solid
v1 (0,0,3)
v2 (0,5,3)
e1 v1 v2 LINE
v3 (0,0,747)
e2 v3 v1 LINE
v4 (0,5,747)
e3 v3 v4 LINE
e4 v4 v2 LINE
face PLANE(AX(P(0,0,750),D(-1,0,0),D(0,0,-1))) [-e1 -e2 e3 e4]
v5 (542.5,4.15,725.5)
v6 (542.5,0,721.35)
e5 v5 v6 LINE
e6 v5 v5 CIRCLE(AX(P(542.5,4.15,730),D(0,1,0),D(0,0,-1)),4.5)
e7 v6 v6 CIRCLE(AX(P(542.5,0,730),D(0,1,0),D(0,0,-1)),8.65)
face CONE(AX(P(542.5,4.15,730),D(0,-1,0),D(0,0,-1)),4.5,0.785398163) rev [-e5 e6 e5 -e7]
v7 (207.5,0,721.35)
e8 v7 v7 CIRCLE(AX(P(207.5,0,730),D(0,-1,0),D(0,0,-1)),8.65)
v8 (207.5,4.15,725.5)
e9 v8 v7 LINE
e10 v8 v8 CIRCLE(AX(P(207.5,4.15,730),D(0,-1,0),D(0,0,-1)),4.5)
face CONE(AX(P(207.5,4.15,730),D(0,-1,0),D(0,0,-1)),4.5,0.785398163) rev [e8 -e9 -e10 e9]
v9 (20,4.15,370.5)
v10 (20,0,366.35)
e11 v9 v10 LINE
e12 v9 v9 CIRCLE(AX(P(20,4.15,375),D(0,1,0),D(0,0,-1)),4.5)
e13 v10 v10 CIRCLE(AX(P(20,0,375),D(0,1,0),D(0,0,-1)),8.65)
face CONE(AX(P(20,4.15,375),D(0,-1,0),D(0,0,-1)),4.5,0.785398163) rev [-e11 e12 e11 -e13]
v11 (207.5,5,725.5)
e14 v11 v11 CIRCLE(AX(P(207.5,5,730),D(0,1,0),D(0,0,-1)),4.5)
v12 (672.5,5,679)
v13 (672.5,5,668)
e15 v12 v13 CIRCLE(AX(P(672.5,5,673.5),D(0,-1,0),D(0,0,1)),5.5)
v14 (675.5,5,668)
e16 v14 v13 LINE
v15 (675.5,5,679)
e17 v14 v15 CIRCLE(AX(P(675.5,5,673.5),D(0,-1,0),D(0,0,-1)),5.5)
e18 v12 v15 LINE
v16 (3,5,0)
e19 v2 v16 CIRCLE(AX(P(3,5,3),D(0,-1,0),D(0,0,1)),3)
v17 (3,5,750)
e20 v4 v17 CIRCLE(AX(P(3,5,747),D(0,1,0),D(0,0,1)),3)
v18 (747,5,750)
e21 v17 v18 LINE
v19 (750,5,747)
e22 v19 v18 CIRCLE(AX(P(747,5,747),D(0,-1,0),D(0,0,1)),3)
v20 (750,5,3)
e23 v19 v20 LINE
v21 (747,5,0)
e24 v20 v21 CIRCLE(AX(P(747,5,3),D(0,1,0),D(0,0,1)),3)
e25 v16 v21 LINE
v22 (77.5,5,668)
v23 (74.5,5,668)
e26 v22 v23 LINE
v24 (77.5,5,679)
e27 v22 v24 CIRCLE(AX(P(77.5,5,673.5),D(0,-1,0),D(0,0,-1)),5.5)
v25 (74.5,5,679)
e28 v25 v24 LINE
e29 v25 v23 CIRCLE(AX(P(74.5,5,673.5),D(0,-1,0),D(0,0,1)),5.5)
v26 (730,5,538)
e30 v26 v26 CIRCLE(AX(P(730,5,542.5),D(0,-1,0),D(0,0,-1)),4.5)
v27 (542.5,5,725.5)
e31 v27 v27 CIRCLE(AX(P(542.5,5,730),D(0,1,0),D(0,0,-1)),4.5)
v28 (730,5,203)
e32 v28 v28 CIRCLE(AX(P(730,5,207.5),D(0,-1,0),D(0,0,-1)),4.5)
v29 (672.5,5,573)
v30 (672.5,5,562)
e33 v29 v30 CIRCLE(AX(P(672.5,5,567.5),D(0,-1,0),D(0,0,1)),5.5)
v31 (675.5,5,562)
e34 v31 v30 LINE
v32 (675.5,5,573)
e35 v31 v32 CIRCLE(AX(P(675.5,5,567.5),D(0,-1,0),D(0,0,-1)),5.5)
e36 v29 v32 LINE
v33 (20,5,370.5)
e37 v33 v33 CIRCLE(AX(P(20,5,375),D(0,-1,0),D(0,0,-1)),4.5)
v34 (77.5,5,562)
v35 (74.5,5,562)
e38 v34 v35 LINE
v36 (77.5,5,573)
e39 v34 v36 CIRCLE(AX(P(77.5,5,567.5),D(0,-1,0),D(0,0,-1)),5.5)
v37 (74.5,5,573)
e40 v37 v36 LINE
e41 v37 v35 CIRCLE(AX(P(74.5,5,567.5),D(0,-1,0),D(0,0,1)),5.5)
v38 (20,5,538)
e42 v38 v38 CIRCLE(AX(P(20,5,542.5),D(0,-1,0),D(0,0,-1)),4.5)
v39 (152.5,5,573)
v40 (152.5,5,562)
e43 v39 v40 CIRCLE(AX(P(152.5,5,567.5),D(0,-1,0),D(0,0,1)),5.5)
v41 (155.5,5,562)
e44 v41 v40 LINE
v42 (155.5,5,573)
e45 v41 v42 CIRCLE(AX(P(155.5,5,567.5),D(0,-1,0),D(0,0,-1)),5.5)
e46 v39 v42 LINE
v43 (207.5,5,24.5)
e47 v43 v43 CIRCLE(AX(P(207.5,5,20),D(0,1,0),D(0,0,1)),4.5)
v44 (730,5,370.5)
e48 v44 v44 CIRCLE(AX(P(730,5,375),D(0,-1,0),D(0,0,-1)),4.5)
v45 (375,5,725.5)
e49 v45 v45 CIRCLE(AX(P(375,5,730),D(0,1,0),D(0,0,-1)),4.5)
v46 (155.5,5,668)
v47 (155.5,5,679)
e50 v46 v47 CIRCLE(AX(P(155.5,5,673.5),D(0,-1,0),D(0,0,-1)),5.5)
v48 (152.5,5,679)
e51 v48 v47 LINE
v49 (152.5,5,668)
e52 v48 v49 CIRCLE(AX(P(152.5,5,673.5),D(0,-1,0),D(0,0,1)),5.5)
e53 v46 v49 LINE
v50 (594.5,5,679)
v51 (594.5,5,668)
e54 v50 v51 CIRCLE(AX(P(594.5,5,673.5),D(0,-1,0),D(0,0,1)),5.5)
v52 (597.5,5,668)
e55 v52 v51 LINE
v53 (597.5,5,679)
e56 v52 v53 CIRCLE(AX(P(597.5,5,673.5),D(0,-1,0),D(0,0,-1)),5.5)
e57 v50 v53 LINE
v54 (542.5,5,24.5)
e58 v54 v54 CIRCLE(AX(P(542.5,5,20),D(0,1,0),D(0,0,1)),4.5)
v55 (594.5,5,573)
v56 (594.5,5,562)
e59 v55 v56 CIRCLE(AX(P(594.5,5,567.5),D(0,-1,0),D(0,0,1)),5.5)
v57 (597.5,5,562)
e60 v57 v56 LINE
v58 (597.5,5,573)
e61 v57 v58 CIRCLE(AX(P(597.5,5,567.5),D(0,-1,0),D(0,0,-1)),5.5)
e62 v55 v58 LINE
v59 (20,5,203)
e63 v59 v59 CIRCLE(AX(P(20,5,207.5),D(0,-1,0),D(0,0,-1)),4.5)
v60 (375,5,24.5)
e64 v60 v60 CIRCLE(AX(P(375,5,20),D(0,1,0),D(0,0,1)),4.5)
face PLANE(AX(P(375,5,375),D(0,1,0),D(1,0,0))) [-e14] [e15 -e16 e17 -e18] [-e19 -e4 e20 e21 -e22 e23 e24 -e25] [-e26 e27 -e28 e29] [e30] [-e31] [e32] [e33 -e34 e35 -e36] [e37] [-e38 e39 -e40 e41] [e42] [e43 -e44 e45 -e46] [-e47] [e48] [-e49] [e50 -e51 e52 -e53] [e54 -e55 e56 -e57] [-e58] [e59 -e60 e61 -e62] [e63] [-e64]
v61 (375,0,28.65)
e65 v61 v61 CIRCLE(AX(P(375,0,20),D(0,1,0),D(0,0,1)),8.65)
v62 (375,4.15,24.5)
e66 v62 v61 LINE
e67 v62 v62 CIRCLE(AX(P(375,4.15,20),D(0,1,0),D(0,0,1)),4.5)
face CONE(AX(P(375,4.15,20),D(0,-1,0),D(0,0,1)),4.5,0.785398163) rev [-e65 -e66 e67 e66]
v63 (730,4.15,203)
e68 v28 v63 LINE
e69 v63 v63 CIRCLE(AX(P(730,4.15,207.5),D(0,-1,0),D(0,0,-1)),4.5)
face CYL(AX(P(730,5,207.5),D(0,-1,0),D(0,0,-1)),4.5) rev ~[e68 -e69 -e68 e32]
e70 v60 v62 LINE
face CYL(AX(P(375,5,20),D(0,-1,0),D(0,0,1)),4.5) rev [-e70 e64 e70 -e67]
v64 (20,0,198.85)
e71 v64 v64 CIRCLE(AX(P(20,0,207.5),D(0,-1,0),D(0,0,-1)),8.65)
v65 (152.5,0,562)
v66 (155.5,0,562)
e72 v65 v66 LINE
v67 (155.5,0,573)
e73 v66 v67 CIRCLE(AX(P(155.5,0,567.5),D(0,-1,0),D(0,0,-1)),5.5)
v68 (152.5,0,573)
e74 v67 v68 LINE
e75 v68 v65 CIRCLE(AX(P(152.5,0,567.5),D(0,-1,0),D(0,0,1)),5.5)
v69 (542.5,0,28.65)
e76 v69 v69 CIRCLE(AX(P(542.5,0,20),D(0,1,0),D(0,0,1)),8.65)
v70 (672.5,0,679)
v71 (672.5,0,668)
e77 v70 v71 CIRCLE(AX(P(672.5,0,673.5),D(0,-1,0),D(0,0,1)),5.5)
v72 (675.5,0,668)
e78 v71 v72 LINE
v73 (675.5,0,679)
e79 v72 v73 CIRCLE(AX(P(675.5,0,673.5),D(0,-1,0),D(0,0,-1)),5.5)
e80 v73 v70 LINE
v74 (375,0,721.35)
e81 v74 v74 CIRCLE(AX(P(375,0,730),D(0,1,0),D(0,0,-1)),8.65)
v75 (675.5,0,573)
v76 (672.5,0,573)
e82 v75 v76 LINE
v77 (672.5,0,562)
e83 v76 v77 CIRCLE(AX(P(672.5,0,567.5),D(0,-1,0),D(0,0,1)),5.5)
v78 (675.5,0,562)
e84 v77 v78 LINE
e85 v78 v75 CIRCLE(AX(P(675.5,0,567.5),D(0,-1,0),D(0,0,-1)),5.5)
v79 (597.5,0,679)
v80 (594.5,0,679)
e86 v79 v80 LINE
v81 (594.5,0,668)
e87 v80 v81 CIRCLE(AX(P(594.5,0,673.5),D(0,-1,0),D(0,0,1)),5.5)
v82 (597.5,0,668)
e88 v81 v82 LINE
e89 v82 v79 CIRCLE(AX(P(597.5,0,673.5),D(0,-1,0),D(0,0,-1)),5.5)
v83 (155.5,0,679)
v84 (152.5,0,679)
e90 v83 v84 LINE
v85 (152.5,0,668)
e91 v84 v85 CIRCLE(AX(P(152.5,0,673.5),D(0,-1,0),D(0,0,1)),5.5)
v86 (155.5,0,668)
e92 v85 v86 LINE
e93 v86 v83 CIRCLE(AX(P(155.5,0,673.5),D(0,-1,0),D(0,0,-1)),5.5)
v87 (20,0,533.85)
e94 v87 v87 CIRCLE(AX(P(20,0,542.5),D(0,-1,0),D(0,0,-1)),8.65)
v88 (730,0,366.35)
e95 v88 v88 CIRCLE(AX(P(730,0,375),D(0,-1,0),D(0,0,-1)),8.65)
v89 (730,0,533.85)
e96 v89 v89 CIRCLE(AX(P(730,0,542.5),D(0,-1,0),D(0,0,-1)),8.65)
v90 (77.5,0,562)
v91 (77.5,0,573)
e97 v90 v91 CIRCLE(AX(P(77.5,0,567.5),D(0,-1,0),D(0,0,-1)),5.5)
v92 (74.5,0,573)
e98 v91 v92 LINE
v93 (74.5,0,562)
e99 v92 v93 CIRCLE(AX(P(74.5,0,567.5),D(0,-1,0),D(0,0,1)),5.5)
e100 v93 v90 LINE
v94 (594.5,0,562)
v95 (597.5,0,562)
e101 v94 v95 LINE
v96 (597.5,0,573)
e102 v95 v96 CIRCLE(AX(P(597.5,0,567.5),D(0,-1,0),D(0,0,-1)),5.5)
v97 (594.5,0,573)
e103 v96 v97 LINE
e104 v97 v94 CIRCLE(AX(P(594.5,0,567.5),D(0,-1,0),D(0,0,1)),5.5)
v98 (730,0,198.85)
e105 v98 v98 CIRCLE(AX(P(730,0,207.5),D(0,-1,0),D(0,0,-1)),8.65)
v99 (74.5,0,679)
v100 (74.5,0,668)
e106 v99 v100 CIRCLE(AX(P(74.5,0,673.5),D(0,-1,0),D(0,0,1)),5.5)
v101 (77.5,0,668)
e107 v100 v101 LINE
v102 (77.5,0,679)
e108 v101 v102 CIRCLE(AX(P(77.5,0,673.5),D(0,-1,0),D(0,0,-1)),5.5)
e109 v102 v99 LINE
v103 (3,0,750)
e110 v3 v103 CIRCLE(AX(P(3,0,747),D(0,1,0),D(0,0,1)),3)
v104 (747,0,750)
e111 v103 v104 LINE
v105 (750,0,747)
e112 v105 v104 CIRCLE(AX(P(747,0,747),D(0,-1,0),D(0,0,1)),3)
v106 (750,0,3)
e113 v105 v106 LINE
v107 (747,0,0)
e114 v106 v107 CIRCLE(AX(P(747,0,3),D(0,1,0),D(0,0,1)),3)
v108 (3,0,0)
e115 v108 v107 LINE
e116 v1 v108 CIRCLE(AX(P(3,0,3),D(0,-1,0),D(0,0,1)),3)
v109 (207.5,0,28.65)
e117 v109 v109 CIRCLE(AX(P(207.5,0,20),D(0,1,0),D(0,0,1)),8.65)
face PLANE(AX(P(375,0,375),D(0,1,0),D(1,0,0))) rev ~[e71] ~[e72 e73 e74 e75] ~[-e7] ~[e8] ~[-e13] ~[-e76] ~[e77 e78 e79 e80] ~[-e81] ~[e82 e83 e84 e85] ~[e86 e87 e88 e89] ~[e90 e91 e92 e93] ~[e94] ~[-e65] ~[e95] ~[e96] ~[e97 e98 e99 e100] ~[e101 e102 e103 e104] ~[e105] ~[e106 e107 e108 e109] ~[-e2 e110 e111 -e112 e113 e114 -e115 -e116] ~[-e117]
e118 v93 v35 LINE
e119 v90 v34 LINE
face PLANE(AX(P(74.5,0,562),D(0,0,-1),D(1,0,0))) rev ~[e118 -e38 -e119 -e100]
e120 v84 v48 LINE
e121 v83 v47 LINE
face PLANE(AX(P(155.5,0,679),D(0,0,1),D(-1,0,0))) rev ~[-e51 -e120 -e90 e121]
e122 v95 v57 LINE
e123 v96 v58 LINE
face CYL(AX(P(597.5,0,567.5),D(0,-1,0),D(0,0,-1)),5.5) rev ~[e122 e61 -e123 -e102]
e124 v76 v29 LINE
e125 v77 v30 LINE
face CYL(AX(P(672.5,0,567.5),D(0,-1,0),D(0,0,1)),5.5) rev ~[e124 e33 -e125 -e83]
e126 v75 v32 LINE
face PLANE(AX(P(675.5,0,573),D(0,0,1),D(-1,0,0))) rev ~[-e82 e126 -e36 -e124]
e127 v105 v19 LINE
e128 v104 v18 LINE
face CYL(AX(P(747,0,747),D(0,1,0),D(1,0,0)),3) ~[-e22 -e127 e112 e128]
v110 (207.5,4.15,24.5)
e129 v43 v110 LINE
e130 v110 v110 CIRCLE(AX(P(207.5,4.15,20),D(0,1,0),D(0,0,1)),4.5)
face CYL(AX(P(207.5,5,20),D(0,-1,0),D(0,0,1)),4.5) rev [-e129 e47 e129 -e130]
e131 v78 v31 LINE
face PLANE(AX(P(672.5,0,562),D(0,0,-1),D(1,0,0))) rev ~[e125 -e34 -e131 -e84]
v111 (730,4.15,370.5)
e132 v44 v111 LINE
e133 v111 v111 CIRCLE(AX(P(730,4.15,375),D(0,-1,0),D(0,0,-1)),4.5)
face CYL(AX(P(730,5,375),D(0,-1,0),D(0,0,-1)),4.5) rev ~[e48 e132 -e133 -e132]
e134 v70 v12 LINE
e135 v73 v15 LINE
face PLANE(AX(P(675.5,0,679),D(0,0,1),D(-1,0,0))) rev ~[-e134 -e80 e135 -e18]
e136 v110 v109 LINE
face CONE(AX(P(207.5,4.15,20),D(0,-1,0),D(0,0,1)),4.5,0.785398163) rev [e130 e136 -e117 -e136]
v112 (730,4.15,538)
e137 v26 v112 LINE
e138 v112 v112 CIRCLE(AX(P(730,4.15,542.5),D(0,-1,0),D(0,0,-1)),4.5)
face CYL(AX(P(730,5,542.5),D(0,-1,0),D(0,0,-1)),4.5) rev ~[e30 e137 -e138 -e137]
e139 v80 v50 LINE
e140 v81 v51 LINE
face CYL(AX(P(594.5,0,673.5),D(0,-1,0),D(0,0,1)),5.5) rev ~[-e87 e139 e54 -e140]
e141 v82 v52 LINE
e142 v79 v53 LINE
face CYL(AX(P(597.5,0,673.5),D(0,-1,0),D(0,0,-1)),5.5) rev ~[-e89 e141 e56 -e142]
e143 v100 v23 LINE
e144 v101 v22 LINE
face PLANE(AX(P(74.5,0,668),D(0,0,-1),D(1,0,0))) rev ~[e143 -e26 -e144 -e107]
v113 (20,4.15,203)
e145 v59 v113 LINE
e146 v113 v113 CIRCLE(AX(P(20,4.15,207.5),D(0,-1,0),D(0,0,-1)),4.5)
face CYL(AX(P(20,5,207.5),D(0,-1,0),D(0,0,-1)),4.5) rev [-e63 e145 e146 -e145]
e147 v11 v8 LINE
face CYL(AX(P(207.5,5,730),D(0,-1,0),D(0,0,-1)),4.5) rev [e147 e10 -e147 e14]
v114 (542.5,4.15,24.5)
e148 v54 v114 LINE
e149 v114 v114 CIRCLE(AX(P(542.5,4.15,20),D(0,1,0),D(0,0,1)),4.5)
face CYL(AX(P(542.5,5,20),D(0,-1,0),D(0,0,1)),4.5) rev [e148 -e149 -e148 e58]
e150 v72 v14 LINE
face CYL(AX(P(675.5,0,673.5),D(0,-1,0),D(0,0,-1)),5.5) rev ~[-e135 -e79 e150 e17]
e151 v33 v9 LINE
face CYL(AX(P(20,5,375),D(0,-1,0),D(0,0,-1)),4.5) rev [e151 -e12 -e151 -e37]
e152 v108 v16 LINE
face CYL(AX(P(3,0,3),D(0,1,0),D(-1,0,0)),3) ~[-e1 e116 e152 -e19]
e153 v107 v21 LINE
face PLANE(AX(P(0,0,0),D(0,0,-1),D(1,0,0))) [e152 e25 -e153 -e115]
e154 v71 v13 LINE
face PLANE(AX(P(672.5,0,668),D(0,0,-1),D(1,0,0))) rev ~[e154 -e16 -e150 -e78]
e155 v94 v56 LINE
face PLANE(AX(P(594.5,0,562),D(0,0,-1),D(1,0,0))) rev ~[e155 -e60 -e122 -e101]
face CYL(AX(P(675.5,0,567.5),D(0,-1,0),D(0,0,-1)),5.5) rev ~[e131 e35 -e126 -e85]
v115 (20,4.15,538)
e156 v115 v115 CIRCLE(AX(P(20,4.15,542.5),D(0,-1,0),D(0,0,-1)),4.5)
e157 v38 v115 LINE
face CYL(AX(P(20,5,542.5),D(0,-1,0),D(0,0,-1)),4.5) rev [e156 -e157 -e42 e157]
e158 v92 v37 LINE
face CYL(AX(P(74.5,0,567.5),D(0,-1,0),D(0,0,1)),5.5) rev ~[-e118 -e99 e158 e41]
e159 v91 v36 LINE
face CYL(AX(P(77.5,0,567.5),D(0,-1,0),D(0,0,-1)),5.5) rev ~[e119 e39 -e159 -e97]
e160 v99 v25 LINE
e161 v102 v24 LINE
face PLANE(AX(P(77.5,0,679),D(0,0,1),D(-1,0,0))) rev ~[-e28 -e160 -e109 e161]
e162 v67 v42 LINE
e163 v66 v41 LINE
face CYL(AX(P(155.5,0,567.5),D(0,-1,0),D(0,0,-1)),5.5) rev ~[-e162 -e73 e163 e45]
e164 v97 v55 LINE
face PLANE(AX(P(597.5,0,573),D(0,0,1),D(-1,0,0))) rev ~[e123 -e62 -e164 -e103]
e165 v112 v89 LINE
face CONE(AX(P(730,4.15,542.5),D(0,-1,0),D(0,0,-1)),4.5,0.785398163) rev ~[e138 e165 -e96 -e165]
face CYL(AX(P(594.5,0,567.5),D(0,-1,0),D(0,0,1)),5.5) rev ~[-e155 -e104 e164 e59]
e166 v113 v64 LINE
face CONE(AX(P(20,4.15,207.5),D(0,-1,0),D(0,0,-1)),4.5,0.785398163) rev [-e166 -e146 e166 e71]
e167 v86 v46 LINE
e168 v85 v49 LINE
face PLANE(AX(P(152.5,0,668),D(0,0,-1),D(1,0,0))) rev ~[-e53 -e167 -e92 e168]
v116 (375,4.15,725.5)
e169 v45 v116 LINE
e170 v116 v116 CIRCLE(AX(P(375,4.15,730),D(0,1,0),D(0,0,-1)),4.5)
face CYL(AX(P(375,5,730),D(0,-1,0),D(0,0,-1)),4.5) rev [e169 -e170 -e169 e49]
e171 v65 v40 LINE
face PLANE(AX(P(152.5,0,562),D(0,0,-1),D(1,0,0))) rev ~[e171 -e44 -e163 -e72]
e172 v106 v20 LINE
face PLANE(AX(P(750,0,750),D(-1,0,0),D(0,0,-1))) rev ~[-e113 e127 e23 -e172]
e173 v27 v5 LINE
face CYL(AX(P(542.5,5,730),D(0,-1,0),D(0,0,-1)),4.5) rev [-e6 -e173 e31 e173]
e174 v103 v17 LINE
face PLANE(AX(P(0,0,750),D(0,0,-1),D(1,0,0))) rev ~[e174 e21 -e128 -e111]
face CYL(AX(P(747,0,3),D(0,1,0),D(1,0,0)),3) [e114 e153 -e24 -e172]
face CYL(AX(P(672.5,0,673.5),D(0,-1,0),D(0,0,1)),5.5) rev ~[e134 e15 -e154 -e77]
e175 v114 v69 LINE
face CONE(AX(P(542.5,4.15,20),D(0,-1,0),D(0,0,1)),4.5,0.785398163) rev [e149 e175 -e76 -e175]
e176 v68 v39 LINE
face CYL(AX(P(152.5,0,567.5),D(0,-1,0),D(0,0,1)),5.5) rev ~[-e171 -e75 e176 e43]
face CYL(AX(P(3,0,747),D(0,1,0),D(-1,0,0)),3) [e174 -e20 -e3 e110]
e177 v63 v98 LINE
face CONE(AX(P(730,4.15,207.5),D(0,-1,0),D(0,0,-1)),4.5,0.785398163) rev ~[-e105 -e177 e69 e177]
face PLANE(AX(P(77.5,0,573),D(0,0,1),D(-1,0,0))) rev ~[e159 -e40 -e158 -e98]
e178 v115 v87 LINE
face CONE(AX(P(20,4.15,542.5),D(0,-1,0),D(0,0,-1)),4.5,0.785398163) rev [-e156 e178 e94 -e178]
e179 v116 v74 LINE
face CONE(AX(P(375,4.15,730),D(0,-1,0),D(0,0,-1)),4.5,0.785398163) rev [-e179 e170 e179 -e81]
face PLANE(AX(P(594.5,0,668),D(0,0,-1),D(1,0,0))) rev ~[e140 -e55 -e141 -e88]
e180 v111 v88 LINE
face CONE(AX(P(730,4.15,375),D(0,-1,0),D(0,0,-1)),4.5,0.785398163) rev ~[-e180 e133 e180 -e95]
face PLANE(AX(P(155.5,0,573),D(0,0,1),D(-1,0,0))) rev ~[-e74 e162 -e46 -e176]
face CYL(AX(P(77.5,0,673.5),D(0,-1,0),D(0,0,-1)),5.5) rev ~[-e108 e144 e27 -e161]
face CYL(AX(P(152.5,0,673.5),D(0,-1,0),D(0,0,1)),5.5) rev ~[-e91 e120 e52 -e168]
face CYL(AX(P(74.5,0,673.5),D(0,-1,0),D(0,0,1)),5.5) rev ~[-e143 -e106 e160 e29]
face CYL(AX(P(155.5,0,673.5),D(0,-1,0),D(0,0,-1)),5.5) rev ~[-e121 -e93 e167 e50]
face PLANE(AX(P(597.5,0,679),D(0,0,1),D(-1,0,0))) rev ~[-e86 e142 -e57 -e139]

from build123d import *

# Parameters (mm, degrees)
SKETCH1_W                                      = 750
SKETCH1_H                                      = 750
BOSS_EXTRUDE1_DEPTH                            = 5
CSK_FOR_M8_FLAT_HEAD_MACHINE_SCREW1_AT_2_COUNT = 2
CSK_FOR_M8_FLAT_HEAD_MACHINE_SCREW1_AT_2_PITCH = 167.5
CSK_FOR_M8_FLAT_HEAD_MACHINE_SCREW1_AT_3_COUNT = 2
CSK_FOR_M8_FLAT_HEAD_MACHINE_SCREW1_AT_3_PITCH = 167.5
CSK_FOR_M8_FLAT_HEAD_MACHINE_SCREW1_AT_4_COUNT = 2
CSK_FOR_M8_FLAT_HEAD_MACHINE_SCREW1_AT_4_PITCH = 502.045814642
CSK_FOR_M8_FLAT_HEAD_MACHINE_SCREW1_AT_5_COUNT = 2
CSK_FOR_M8_FLAT_HEAD_MACHINE_SCREW1_AT_5_PITCH = 631.689203644
CSK_FOR_M8_FLAT_HEAD_MACHINE_SCREW1_AT_6_COUNT = 2
CSK_FOR_M8_FLAT_HEAD_MACHINE_SCREW1_AT_6_PITCH = 401.473847218
FILLET1_R                                      = 3
CUT_EXTRUDE1_DEPTH                             = 6
LPATTERN1_COUNT                                = 2
LPATTERN1_PITCH                                = 520


with BuildPart() as part:
    # Sketch1 → Boss-Extrude1 (new body)
    with BuildSketch(Plane(origin=(0, 0, 0), x_dir=(1, 0, 0), z_dir=(0, 1, 0))):
        with Locations((375, -375)):
            Rectangle(SKETCH1_W, SKETCH1_H)
    extrude(amount=BOSS_EXTRUDE1_DEPTH)

    # Sketch4 → CSK for M8 Flat Head Machine Screw1 (revolve, cut)
    with BuildSketch(Plane(origin=(20, 0, 375), x_dir=(0, 0, -1), z_dir=(1, 0, 0))):
        Polygon((0, 0), (0, 5), (4.5, 5), (4.5, 4.15), (8.65, 0), align=None)
    csk_for_m8_flat_head_machine_screw1 = revolve(axis=Axis((20, -6.35, 375), (0, 1, 0)), mode=Mode.SUBTRACT)

    # CSK for M8 Flat Head Machine Screw1 at 2: CSK for M8 Flat Head Machine Screw1 ×2
    with Locations(*[(0, 0, i * CSK_FOR_M8_FLAT_HEAD_MACHINE_SCREW1_AT_2_PITCH) for i in range(1, CSK_FOR_M8_FLAT_HEAD_MACHINE_SCREW1_AT_2_COUNT)]):
        add(csk_for_m8_flat_head_machine_screw1, mode=Mode.SUBTRACT)

    # CSK for M8 Flat Head Machine Screw1 at 3: CSK for M8 Flat Head Machine Screw1 ×2
    with Locations(*[(0, 0, -i * CSK_FOR_M8_FLAT_HEAD_MACHINE_SCREW1_AT_3_PITCH) for i in range(1, CSK_FOR_M8_FLAT_HEAD_MACHINE_SCREW1_AT_3_COUNT)]):
        add(csk_for_m8_flat_head_machine_screw1, mode=Mode.SUBTRACT)

    # CSK for M8 Flat Head Machine Screw1 at 4: CSK for M8 Flat Head Machine Screw1 ×2
    with Locations(*[Vector(0.707106781, 0, 0.707106781) * (i * CSK_FOR_M8_FLAT_HEAD_MACHINE_SCREW1_AT_4_PITCH) for i in range(1, CSK_FOR_M8_FLAT_HEAD_MACHINE_SCREW1_AT_4_COUNT)]):
        add(csk_for_m8_flat_head_machine_screw1, mode=Mode.SUBTRACT)

    # CSK for M8 Flat Head Machine Screw1 at 5: CSK for M8 Flat Head Machine Screw1 ×2
    with Locations(*[Vector(0.82714727, 0, 0.561985226) * (i * CSK_FOR_M8_FLAT_HEAD_MACHINE_SCREW1_AT_5_PITCH) for i in range(1, CSK_FOR_M8_FLAT_HEAD_MACHINE_SCREW1_AT_5_COUNT)]):
        add(csk_for_m8_flat_head_machine_screw1, mode=Mode.SUBTRACT)

    # CSK for M8 Flat Head Machine Screw1 at 6: CSK for M8 Flat Head Machine Screw1 ×2
    with Locations(*[Vector(0.467029176, 0, 0.884241906) * (i * CSK_FOR_M8_FLAT_HEAD_MACHINE_SCREW1_AT_6_PITCH) for i in range(1, CSK_FOR_M8_FLAT_HEAD_MACHINE_SCREW1_AT_6_COUNT)]):
        add(csk_for_m8_flat_head_machine_screw1, mode=Mode.SUBTRACT)

    # Mirror1: CSK for M8 Flat Head Machine Screw1 across plane
    add(csk_for_m8_flat_head_machine_screw1.mirror(Plane(origin=(375, 0, 0), x_dir=(0, 0, 1), z_dir=(1, 0, 0))), mode=Mode.SUBTRACT)

    # Mirror1 copy 1 sketch → Mirror1 copy 1 (revolve, cut)
    with BuildSketch(Plane(origin=(730, 0, 542.5), x_dir=(0, 0, -1), z_dir=(-1, 0, 0))):
        Polygon((0, 0), (0, -5), (4.5, -5), (4.5, -4.15), (8.65, 0), align=None)
    revolve(axis=Axis((730, -6.35, 542.5), (0, -1, 0)), mode=Mode.SUBTRACT)

    # Mirror1 copy 2 sketch → Mirror1 copy 2 (revolve, cut)
    with BuildSketch(Plane(origin=(730, 0, 207.5), x_dir=(0, 0, -1), z_dir=(-1, 0, 0))):
        Polygon((0, 0), (0, -5), (4.5, -5), (4.5, -4.15), (8.65, 0), align=None)
    revolve(axis=Axis((730, -6.35, 207.5), (0, -1, 0)), mode=Mode.SUBTRACT)

    # Mirror1 copy 3 sketch → Mirror1 copy 3 (revolve, cut)
    with BuildSketch(Plane(origin=(375, 0, 730), x_dir=(0, 0, -1), z_dir=(-1, 0, 0))):
        Polygon((0, 0), (0, -5), (4.5, -5), (4.5, -4.15), (8.65, 0), align=None)
    revolve(axis=Axis((375, -6.35, 730), (0, -1, 0)), mode=Mode.SUBTRACT)

    # Mirror1 copy 4 sketch → Mirror1 copy 4 (revolve, cut)
    with BuildSketch(Plane(origin=(207.5, 0, 730), x_dir=(0, 0, -1), z_dir=(-1, 0, 0))):
        Polygon((0, 0), (0, -5), (4.5, -5), (4.5, -4.15), (8.65, 0), align=None)
    revolve(axis=Axis((207.5, -6.35, 730), (0, -1, 0)), mode=Mode.SUBTRACT)

    # Mirror1 copy 5 sketch → Mirror1 copy 5 (revolve, cut)
    with BuildSketch(Plane(origin=(542.5, 0, 730), x_dir=(0, 0, -1), z_dir=(-1, 0, 0))):
        Polygon((0, 0), (0, -5), (4.5, -5), (4.5, -4.15), (8.65, 0), align=None)
    revolve(axis=Axis((542.5, -6.35, 730), (0, -1, 0)), mode=Mode.SUBTRACT)

    # Mirror2 copy 1 sketch → Mirror2 copy 1 (revolve, cut)
    with BuildSketch(Plane(origin=(730, 0, 375), x_dir=(0, 0, 1), z_dir=(-1, 0, 0))):
        Polygon((0, 0), (0, 5), (4.5, 5), (4.5, 4.15), (8.65, 0), align=None)
    revolve(axis=Axis((730, -6.35, 375), (0, 1, 0)), mode=Mode.SUBTRACT)

    # Mirror2 copy 2 sketch → Mirror2 copy 2 (revolve, cut)
    with BuildSketch(Plane(origin=(730, 0, 207.5), x_dir=(0, 0, 1), z_dir=(-1, 0, 0))):
        Polygon((0, 0), (0, 5), (4.5, 5), (4.5, 4.15), (8.65, 0), align=None)
    revolve(axis=Axis((730, -6.35, 207.5), (0, 1, 0)), mode=Mode.SUBTRACT)

    # Mirror2 copy 3 sketch → Mirror2 copy 3 (revolve, cut)
    with BuildSketch(Plane(origin=(730, 0, 542.5), x_dir=(0, 0, 1), z_dir=(-1, 0, 0))):
        Polygon((0, 0), (0, 5), (4.5, 5), (4.5, 4.15), (8.65, 0), align=None)
    revolve(axis=Axis((730, -6.35, 542.5), (0, 1, 0)), mode=Mode.SUBTRACT)

    # Mirror2 copy 4 sketch → Mirror2 copy 4 (revolve, cut)
    with BuildSketch(Plane(origin=(375, 0, 20), x_dir=(0, 0, 1), z_dir=(-1, 0, 0))):
        Polygon((0, 0), (0, 5), (4.5, 5), (4.5, 4.15), (8.65, 0), align=None)
    revolve(axis=Axis((375, -6.35, 20), (0, 1, 0)), mode=Mode.SUBTRACT)

    # Mirror2 copy 5 sketch → Mirror2 copy 5 (revolve, cut)
    with BuildSketch(Plane(origin=(207.5, 0, 20), x_dir=(0, 0, 1), z_dir=(-1, 0, 0))):
        Polygon((0, 0), (0, 5), (4.5, 5), (4.5, 4.15), (8.65, 0), align=None)
    revolve(axis=Axis((207.5, -6.35, 20), (0, 1, 0)), mode=Mode.SUBTRACT)

    # Mirror2 copy 6 sketch → Mirror2 copy 6 (revolve, cut)
    with BuildSketch(Plane(origin=(542.5, 0, 20), x_dir=(0, 0, 1), z_dir=(-1, 0, 0))):
        Polygon((0, 0), (0, 5), (4.5, 5), (4.5, 4.15), (8.65, 0), align=None)
    revolve(axis=Axis((542.5, -6.35, 20), (0, 1, 0)), mode=Mode.SUBTRACT)

    # Mirror2 copy 7 sketch → Mirror2 copy 7 (revolve, cut)
    with BuildSketch(Plane(origin=(20, 0, 375), x_dir=(0, 0, 1), z_dir=(1, 0, 0))):
        Polygon((0, 0), (0, -5), (4.5, -5), (4.5, -4.15), (8.65, 0), align=None)
    revolve(axis=Axis((20, -6.35, 375), (0, -1, 0)), mode=Mode.SUBTRACT)

    # Mirror2 copy 8 sketch → Mirror2 copy 8 (revolve, cut)
    with BuildSketch(Plane(origin=(20, 0, 207.5), x_dir=(0, 0, 1), z_dir=(1, 0, 0))):
        Polygon((0, 0), (0, -5), (4.5, -5), (4.5, -4.15), (8.65, 0), align=None)
    revolve(axis=Axis((20, -6.35, 207.5), (0, -1, 0)), mode=Mode.SUBTRACT)

    # Mirror2 copy 9 sketch → Mirror2 copy 9 (revolve, cut)
    with BuildSketch(Plane(origin=(20, 0, 542.5), x_dir=(0, 0, 1), z_dir=(1, 0, 0))):
        Polygon((0, 0), (0, -5), (4.5, -5), (4.5, -4.15), (8.65, 0), align=None)
    revolve(axis=Axis((20, -6.35, 542.5), (0, -1, 0)), mode=Mode.SUBTRACT)

    # Mirror2 copy 10 sketch → Mirror2 copy 10 (revolve, cut)
    with BuildSketch(Plane(origin=(375, 0, 20), x_dir=(0, 0, 1), z_dir=(1, 0, 0))):
        Polygon((0, 0), (0, -5), (4.5, -5), (4.5, -4.15), (8.65, 0), align=None)
    revolve(axis=Axis((375, -6.35, 20), (0, -1, 0)), mode=Mode.SUBTRACT)

    # Mirror2 copy 11 sketch → Mirror2 copy 11 (revolve, cut)
    with BuildSketch(Plane(origin=(542.5, 0, 20), x_dir=(0, 0, 1), z_dir=(1, 0, 0))):
        Polygon((0, 0), (0, -5), (4.5, -5), (4.5, -4.15), (8.65, 0), align=None)
    revolve(axis=Axis((542.5, -6.35, 20), (0, -1, 0)), mode=Mode.SUBTRACT)

    # Mirror2 copy 12 sketch → Mirror2 copy 12 (revolve, cut)
    with BuildSketch(Plane(origin=(207.5, 0, 20), x_dir=(0, 0, 1), z_dir=(1, 0, 0))):
        Polygon((0, 0), (0, -5), (4.5, -5), (4.5, -4.15), (8.65, 0), align=None)
    revolve(axis=Axis((207.5, -6.35, 20), (0, -1, 0)), mode=Mode.SUBTRACT)

    # Fillet1
    fillet1_edges = [part.edges().sort_by_distance(p)[0] for p in [
        (0, 2.5, 0),
        (750, 2.5, 0),
        (750, 2.5, 750),
        (0, 2.5, 750),
    ]]
    fillet(fillet1_edges, radius=FILLET1_R)

    # Sketch2 → Cut-Extrude1 (cut, through all)
    with BuildSketch(Plane.XZ):
        with BuildLine():
            Line((152.5, 668), (155.5, 668))
            ThreePointArc((155.5, 668), (161, 673.5), (155.5, 679))
            Line((155.5, 679), (152.5, 679))
            ThreePointArc((152.5, 679), (147, 673.5), (152.5, 668))
        make_face()
        with BuildLine():
            Line((74.5, 668), (77.5, 668))
            ThreePointArc((77.5, 668), (83, 673.5), (77.5, 679))
            Line((77.5, 679), (74.5, 679))
            ThreePointArc((74.5, 679), (69, 673.5), (74.5, 668))
        make_face()
        with BuildLine():
            Line((74.5, 562), (77.5, 562))
            ThreePointArc((77.5, 562), (83, 567.5), (77.5, 573))
            Line((77.5, 573), (74.5, 573))
            ThreePointArc((74.5, 573), (69, 567.5), (74.5, 562))
        make_face()
        with BuildLine():
            Line((152.5, 562), (155.5, 562))
            ThreePointArc((155.5, 562), (161, 567.5), (155.5, 573))
            Line((155.5, 573), (152.5, 573))
            ThreePointArc((152.5, 573), (147, 567.5), (152.5, 562))
        make_face()
    cut_extrude1 = extrude(amount=-CUT_EXTRUDE1_DEPTH, mode=Mode.SUBTRACT)

    # LPattern1: Cut-Extrude1 ×2
    with Locations(*[(i * LPATTERN1_PITCH, 0, 0) for i in range(1, LPATTERN1_COUNT)]):
        add(cut_extrude1, mode=Mode.SUBTRACT)


solid = part.part
